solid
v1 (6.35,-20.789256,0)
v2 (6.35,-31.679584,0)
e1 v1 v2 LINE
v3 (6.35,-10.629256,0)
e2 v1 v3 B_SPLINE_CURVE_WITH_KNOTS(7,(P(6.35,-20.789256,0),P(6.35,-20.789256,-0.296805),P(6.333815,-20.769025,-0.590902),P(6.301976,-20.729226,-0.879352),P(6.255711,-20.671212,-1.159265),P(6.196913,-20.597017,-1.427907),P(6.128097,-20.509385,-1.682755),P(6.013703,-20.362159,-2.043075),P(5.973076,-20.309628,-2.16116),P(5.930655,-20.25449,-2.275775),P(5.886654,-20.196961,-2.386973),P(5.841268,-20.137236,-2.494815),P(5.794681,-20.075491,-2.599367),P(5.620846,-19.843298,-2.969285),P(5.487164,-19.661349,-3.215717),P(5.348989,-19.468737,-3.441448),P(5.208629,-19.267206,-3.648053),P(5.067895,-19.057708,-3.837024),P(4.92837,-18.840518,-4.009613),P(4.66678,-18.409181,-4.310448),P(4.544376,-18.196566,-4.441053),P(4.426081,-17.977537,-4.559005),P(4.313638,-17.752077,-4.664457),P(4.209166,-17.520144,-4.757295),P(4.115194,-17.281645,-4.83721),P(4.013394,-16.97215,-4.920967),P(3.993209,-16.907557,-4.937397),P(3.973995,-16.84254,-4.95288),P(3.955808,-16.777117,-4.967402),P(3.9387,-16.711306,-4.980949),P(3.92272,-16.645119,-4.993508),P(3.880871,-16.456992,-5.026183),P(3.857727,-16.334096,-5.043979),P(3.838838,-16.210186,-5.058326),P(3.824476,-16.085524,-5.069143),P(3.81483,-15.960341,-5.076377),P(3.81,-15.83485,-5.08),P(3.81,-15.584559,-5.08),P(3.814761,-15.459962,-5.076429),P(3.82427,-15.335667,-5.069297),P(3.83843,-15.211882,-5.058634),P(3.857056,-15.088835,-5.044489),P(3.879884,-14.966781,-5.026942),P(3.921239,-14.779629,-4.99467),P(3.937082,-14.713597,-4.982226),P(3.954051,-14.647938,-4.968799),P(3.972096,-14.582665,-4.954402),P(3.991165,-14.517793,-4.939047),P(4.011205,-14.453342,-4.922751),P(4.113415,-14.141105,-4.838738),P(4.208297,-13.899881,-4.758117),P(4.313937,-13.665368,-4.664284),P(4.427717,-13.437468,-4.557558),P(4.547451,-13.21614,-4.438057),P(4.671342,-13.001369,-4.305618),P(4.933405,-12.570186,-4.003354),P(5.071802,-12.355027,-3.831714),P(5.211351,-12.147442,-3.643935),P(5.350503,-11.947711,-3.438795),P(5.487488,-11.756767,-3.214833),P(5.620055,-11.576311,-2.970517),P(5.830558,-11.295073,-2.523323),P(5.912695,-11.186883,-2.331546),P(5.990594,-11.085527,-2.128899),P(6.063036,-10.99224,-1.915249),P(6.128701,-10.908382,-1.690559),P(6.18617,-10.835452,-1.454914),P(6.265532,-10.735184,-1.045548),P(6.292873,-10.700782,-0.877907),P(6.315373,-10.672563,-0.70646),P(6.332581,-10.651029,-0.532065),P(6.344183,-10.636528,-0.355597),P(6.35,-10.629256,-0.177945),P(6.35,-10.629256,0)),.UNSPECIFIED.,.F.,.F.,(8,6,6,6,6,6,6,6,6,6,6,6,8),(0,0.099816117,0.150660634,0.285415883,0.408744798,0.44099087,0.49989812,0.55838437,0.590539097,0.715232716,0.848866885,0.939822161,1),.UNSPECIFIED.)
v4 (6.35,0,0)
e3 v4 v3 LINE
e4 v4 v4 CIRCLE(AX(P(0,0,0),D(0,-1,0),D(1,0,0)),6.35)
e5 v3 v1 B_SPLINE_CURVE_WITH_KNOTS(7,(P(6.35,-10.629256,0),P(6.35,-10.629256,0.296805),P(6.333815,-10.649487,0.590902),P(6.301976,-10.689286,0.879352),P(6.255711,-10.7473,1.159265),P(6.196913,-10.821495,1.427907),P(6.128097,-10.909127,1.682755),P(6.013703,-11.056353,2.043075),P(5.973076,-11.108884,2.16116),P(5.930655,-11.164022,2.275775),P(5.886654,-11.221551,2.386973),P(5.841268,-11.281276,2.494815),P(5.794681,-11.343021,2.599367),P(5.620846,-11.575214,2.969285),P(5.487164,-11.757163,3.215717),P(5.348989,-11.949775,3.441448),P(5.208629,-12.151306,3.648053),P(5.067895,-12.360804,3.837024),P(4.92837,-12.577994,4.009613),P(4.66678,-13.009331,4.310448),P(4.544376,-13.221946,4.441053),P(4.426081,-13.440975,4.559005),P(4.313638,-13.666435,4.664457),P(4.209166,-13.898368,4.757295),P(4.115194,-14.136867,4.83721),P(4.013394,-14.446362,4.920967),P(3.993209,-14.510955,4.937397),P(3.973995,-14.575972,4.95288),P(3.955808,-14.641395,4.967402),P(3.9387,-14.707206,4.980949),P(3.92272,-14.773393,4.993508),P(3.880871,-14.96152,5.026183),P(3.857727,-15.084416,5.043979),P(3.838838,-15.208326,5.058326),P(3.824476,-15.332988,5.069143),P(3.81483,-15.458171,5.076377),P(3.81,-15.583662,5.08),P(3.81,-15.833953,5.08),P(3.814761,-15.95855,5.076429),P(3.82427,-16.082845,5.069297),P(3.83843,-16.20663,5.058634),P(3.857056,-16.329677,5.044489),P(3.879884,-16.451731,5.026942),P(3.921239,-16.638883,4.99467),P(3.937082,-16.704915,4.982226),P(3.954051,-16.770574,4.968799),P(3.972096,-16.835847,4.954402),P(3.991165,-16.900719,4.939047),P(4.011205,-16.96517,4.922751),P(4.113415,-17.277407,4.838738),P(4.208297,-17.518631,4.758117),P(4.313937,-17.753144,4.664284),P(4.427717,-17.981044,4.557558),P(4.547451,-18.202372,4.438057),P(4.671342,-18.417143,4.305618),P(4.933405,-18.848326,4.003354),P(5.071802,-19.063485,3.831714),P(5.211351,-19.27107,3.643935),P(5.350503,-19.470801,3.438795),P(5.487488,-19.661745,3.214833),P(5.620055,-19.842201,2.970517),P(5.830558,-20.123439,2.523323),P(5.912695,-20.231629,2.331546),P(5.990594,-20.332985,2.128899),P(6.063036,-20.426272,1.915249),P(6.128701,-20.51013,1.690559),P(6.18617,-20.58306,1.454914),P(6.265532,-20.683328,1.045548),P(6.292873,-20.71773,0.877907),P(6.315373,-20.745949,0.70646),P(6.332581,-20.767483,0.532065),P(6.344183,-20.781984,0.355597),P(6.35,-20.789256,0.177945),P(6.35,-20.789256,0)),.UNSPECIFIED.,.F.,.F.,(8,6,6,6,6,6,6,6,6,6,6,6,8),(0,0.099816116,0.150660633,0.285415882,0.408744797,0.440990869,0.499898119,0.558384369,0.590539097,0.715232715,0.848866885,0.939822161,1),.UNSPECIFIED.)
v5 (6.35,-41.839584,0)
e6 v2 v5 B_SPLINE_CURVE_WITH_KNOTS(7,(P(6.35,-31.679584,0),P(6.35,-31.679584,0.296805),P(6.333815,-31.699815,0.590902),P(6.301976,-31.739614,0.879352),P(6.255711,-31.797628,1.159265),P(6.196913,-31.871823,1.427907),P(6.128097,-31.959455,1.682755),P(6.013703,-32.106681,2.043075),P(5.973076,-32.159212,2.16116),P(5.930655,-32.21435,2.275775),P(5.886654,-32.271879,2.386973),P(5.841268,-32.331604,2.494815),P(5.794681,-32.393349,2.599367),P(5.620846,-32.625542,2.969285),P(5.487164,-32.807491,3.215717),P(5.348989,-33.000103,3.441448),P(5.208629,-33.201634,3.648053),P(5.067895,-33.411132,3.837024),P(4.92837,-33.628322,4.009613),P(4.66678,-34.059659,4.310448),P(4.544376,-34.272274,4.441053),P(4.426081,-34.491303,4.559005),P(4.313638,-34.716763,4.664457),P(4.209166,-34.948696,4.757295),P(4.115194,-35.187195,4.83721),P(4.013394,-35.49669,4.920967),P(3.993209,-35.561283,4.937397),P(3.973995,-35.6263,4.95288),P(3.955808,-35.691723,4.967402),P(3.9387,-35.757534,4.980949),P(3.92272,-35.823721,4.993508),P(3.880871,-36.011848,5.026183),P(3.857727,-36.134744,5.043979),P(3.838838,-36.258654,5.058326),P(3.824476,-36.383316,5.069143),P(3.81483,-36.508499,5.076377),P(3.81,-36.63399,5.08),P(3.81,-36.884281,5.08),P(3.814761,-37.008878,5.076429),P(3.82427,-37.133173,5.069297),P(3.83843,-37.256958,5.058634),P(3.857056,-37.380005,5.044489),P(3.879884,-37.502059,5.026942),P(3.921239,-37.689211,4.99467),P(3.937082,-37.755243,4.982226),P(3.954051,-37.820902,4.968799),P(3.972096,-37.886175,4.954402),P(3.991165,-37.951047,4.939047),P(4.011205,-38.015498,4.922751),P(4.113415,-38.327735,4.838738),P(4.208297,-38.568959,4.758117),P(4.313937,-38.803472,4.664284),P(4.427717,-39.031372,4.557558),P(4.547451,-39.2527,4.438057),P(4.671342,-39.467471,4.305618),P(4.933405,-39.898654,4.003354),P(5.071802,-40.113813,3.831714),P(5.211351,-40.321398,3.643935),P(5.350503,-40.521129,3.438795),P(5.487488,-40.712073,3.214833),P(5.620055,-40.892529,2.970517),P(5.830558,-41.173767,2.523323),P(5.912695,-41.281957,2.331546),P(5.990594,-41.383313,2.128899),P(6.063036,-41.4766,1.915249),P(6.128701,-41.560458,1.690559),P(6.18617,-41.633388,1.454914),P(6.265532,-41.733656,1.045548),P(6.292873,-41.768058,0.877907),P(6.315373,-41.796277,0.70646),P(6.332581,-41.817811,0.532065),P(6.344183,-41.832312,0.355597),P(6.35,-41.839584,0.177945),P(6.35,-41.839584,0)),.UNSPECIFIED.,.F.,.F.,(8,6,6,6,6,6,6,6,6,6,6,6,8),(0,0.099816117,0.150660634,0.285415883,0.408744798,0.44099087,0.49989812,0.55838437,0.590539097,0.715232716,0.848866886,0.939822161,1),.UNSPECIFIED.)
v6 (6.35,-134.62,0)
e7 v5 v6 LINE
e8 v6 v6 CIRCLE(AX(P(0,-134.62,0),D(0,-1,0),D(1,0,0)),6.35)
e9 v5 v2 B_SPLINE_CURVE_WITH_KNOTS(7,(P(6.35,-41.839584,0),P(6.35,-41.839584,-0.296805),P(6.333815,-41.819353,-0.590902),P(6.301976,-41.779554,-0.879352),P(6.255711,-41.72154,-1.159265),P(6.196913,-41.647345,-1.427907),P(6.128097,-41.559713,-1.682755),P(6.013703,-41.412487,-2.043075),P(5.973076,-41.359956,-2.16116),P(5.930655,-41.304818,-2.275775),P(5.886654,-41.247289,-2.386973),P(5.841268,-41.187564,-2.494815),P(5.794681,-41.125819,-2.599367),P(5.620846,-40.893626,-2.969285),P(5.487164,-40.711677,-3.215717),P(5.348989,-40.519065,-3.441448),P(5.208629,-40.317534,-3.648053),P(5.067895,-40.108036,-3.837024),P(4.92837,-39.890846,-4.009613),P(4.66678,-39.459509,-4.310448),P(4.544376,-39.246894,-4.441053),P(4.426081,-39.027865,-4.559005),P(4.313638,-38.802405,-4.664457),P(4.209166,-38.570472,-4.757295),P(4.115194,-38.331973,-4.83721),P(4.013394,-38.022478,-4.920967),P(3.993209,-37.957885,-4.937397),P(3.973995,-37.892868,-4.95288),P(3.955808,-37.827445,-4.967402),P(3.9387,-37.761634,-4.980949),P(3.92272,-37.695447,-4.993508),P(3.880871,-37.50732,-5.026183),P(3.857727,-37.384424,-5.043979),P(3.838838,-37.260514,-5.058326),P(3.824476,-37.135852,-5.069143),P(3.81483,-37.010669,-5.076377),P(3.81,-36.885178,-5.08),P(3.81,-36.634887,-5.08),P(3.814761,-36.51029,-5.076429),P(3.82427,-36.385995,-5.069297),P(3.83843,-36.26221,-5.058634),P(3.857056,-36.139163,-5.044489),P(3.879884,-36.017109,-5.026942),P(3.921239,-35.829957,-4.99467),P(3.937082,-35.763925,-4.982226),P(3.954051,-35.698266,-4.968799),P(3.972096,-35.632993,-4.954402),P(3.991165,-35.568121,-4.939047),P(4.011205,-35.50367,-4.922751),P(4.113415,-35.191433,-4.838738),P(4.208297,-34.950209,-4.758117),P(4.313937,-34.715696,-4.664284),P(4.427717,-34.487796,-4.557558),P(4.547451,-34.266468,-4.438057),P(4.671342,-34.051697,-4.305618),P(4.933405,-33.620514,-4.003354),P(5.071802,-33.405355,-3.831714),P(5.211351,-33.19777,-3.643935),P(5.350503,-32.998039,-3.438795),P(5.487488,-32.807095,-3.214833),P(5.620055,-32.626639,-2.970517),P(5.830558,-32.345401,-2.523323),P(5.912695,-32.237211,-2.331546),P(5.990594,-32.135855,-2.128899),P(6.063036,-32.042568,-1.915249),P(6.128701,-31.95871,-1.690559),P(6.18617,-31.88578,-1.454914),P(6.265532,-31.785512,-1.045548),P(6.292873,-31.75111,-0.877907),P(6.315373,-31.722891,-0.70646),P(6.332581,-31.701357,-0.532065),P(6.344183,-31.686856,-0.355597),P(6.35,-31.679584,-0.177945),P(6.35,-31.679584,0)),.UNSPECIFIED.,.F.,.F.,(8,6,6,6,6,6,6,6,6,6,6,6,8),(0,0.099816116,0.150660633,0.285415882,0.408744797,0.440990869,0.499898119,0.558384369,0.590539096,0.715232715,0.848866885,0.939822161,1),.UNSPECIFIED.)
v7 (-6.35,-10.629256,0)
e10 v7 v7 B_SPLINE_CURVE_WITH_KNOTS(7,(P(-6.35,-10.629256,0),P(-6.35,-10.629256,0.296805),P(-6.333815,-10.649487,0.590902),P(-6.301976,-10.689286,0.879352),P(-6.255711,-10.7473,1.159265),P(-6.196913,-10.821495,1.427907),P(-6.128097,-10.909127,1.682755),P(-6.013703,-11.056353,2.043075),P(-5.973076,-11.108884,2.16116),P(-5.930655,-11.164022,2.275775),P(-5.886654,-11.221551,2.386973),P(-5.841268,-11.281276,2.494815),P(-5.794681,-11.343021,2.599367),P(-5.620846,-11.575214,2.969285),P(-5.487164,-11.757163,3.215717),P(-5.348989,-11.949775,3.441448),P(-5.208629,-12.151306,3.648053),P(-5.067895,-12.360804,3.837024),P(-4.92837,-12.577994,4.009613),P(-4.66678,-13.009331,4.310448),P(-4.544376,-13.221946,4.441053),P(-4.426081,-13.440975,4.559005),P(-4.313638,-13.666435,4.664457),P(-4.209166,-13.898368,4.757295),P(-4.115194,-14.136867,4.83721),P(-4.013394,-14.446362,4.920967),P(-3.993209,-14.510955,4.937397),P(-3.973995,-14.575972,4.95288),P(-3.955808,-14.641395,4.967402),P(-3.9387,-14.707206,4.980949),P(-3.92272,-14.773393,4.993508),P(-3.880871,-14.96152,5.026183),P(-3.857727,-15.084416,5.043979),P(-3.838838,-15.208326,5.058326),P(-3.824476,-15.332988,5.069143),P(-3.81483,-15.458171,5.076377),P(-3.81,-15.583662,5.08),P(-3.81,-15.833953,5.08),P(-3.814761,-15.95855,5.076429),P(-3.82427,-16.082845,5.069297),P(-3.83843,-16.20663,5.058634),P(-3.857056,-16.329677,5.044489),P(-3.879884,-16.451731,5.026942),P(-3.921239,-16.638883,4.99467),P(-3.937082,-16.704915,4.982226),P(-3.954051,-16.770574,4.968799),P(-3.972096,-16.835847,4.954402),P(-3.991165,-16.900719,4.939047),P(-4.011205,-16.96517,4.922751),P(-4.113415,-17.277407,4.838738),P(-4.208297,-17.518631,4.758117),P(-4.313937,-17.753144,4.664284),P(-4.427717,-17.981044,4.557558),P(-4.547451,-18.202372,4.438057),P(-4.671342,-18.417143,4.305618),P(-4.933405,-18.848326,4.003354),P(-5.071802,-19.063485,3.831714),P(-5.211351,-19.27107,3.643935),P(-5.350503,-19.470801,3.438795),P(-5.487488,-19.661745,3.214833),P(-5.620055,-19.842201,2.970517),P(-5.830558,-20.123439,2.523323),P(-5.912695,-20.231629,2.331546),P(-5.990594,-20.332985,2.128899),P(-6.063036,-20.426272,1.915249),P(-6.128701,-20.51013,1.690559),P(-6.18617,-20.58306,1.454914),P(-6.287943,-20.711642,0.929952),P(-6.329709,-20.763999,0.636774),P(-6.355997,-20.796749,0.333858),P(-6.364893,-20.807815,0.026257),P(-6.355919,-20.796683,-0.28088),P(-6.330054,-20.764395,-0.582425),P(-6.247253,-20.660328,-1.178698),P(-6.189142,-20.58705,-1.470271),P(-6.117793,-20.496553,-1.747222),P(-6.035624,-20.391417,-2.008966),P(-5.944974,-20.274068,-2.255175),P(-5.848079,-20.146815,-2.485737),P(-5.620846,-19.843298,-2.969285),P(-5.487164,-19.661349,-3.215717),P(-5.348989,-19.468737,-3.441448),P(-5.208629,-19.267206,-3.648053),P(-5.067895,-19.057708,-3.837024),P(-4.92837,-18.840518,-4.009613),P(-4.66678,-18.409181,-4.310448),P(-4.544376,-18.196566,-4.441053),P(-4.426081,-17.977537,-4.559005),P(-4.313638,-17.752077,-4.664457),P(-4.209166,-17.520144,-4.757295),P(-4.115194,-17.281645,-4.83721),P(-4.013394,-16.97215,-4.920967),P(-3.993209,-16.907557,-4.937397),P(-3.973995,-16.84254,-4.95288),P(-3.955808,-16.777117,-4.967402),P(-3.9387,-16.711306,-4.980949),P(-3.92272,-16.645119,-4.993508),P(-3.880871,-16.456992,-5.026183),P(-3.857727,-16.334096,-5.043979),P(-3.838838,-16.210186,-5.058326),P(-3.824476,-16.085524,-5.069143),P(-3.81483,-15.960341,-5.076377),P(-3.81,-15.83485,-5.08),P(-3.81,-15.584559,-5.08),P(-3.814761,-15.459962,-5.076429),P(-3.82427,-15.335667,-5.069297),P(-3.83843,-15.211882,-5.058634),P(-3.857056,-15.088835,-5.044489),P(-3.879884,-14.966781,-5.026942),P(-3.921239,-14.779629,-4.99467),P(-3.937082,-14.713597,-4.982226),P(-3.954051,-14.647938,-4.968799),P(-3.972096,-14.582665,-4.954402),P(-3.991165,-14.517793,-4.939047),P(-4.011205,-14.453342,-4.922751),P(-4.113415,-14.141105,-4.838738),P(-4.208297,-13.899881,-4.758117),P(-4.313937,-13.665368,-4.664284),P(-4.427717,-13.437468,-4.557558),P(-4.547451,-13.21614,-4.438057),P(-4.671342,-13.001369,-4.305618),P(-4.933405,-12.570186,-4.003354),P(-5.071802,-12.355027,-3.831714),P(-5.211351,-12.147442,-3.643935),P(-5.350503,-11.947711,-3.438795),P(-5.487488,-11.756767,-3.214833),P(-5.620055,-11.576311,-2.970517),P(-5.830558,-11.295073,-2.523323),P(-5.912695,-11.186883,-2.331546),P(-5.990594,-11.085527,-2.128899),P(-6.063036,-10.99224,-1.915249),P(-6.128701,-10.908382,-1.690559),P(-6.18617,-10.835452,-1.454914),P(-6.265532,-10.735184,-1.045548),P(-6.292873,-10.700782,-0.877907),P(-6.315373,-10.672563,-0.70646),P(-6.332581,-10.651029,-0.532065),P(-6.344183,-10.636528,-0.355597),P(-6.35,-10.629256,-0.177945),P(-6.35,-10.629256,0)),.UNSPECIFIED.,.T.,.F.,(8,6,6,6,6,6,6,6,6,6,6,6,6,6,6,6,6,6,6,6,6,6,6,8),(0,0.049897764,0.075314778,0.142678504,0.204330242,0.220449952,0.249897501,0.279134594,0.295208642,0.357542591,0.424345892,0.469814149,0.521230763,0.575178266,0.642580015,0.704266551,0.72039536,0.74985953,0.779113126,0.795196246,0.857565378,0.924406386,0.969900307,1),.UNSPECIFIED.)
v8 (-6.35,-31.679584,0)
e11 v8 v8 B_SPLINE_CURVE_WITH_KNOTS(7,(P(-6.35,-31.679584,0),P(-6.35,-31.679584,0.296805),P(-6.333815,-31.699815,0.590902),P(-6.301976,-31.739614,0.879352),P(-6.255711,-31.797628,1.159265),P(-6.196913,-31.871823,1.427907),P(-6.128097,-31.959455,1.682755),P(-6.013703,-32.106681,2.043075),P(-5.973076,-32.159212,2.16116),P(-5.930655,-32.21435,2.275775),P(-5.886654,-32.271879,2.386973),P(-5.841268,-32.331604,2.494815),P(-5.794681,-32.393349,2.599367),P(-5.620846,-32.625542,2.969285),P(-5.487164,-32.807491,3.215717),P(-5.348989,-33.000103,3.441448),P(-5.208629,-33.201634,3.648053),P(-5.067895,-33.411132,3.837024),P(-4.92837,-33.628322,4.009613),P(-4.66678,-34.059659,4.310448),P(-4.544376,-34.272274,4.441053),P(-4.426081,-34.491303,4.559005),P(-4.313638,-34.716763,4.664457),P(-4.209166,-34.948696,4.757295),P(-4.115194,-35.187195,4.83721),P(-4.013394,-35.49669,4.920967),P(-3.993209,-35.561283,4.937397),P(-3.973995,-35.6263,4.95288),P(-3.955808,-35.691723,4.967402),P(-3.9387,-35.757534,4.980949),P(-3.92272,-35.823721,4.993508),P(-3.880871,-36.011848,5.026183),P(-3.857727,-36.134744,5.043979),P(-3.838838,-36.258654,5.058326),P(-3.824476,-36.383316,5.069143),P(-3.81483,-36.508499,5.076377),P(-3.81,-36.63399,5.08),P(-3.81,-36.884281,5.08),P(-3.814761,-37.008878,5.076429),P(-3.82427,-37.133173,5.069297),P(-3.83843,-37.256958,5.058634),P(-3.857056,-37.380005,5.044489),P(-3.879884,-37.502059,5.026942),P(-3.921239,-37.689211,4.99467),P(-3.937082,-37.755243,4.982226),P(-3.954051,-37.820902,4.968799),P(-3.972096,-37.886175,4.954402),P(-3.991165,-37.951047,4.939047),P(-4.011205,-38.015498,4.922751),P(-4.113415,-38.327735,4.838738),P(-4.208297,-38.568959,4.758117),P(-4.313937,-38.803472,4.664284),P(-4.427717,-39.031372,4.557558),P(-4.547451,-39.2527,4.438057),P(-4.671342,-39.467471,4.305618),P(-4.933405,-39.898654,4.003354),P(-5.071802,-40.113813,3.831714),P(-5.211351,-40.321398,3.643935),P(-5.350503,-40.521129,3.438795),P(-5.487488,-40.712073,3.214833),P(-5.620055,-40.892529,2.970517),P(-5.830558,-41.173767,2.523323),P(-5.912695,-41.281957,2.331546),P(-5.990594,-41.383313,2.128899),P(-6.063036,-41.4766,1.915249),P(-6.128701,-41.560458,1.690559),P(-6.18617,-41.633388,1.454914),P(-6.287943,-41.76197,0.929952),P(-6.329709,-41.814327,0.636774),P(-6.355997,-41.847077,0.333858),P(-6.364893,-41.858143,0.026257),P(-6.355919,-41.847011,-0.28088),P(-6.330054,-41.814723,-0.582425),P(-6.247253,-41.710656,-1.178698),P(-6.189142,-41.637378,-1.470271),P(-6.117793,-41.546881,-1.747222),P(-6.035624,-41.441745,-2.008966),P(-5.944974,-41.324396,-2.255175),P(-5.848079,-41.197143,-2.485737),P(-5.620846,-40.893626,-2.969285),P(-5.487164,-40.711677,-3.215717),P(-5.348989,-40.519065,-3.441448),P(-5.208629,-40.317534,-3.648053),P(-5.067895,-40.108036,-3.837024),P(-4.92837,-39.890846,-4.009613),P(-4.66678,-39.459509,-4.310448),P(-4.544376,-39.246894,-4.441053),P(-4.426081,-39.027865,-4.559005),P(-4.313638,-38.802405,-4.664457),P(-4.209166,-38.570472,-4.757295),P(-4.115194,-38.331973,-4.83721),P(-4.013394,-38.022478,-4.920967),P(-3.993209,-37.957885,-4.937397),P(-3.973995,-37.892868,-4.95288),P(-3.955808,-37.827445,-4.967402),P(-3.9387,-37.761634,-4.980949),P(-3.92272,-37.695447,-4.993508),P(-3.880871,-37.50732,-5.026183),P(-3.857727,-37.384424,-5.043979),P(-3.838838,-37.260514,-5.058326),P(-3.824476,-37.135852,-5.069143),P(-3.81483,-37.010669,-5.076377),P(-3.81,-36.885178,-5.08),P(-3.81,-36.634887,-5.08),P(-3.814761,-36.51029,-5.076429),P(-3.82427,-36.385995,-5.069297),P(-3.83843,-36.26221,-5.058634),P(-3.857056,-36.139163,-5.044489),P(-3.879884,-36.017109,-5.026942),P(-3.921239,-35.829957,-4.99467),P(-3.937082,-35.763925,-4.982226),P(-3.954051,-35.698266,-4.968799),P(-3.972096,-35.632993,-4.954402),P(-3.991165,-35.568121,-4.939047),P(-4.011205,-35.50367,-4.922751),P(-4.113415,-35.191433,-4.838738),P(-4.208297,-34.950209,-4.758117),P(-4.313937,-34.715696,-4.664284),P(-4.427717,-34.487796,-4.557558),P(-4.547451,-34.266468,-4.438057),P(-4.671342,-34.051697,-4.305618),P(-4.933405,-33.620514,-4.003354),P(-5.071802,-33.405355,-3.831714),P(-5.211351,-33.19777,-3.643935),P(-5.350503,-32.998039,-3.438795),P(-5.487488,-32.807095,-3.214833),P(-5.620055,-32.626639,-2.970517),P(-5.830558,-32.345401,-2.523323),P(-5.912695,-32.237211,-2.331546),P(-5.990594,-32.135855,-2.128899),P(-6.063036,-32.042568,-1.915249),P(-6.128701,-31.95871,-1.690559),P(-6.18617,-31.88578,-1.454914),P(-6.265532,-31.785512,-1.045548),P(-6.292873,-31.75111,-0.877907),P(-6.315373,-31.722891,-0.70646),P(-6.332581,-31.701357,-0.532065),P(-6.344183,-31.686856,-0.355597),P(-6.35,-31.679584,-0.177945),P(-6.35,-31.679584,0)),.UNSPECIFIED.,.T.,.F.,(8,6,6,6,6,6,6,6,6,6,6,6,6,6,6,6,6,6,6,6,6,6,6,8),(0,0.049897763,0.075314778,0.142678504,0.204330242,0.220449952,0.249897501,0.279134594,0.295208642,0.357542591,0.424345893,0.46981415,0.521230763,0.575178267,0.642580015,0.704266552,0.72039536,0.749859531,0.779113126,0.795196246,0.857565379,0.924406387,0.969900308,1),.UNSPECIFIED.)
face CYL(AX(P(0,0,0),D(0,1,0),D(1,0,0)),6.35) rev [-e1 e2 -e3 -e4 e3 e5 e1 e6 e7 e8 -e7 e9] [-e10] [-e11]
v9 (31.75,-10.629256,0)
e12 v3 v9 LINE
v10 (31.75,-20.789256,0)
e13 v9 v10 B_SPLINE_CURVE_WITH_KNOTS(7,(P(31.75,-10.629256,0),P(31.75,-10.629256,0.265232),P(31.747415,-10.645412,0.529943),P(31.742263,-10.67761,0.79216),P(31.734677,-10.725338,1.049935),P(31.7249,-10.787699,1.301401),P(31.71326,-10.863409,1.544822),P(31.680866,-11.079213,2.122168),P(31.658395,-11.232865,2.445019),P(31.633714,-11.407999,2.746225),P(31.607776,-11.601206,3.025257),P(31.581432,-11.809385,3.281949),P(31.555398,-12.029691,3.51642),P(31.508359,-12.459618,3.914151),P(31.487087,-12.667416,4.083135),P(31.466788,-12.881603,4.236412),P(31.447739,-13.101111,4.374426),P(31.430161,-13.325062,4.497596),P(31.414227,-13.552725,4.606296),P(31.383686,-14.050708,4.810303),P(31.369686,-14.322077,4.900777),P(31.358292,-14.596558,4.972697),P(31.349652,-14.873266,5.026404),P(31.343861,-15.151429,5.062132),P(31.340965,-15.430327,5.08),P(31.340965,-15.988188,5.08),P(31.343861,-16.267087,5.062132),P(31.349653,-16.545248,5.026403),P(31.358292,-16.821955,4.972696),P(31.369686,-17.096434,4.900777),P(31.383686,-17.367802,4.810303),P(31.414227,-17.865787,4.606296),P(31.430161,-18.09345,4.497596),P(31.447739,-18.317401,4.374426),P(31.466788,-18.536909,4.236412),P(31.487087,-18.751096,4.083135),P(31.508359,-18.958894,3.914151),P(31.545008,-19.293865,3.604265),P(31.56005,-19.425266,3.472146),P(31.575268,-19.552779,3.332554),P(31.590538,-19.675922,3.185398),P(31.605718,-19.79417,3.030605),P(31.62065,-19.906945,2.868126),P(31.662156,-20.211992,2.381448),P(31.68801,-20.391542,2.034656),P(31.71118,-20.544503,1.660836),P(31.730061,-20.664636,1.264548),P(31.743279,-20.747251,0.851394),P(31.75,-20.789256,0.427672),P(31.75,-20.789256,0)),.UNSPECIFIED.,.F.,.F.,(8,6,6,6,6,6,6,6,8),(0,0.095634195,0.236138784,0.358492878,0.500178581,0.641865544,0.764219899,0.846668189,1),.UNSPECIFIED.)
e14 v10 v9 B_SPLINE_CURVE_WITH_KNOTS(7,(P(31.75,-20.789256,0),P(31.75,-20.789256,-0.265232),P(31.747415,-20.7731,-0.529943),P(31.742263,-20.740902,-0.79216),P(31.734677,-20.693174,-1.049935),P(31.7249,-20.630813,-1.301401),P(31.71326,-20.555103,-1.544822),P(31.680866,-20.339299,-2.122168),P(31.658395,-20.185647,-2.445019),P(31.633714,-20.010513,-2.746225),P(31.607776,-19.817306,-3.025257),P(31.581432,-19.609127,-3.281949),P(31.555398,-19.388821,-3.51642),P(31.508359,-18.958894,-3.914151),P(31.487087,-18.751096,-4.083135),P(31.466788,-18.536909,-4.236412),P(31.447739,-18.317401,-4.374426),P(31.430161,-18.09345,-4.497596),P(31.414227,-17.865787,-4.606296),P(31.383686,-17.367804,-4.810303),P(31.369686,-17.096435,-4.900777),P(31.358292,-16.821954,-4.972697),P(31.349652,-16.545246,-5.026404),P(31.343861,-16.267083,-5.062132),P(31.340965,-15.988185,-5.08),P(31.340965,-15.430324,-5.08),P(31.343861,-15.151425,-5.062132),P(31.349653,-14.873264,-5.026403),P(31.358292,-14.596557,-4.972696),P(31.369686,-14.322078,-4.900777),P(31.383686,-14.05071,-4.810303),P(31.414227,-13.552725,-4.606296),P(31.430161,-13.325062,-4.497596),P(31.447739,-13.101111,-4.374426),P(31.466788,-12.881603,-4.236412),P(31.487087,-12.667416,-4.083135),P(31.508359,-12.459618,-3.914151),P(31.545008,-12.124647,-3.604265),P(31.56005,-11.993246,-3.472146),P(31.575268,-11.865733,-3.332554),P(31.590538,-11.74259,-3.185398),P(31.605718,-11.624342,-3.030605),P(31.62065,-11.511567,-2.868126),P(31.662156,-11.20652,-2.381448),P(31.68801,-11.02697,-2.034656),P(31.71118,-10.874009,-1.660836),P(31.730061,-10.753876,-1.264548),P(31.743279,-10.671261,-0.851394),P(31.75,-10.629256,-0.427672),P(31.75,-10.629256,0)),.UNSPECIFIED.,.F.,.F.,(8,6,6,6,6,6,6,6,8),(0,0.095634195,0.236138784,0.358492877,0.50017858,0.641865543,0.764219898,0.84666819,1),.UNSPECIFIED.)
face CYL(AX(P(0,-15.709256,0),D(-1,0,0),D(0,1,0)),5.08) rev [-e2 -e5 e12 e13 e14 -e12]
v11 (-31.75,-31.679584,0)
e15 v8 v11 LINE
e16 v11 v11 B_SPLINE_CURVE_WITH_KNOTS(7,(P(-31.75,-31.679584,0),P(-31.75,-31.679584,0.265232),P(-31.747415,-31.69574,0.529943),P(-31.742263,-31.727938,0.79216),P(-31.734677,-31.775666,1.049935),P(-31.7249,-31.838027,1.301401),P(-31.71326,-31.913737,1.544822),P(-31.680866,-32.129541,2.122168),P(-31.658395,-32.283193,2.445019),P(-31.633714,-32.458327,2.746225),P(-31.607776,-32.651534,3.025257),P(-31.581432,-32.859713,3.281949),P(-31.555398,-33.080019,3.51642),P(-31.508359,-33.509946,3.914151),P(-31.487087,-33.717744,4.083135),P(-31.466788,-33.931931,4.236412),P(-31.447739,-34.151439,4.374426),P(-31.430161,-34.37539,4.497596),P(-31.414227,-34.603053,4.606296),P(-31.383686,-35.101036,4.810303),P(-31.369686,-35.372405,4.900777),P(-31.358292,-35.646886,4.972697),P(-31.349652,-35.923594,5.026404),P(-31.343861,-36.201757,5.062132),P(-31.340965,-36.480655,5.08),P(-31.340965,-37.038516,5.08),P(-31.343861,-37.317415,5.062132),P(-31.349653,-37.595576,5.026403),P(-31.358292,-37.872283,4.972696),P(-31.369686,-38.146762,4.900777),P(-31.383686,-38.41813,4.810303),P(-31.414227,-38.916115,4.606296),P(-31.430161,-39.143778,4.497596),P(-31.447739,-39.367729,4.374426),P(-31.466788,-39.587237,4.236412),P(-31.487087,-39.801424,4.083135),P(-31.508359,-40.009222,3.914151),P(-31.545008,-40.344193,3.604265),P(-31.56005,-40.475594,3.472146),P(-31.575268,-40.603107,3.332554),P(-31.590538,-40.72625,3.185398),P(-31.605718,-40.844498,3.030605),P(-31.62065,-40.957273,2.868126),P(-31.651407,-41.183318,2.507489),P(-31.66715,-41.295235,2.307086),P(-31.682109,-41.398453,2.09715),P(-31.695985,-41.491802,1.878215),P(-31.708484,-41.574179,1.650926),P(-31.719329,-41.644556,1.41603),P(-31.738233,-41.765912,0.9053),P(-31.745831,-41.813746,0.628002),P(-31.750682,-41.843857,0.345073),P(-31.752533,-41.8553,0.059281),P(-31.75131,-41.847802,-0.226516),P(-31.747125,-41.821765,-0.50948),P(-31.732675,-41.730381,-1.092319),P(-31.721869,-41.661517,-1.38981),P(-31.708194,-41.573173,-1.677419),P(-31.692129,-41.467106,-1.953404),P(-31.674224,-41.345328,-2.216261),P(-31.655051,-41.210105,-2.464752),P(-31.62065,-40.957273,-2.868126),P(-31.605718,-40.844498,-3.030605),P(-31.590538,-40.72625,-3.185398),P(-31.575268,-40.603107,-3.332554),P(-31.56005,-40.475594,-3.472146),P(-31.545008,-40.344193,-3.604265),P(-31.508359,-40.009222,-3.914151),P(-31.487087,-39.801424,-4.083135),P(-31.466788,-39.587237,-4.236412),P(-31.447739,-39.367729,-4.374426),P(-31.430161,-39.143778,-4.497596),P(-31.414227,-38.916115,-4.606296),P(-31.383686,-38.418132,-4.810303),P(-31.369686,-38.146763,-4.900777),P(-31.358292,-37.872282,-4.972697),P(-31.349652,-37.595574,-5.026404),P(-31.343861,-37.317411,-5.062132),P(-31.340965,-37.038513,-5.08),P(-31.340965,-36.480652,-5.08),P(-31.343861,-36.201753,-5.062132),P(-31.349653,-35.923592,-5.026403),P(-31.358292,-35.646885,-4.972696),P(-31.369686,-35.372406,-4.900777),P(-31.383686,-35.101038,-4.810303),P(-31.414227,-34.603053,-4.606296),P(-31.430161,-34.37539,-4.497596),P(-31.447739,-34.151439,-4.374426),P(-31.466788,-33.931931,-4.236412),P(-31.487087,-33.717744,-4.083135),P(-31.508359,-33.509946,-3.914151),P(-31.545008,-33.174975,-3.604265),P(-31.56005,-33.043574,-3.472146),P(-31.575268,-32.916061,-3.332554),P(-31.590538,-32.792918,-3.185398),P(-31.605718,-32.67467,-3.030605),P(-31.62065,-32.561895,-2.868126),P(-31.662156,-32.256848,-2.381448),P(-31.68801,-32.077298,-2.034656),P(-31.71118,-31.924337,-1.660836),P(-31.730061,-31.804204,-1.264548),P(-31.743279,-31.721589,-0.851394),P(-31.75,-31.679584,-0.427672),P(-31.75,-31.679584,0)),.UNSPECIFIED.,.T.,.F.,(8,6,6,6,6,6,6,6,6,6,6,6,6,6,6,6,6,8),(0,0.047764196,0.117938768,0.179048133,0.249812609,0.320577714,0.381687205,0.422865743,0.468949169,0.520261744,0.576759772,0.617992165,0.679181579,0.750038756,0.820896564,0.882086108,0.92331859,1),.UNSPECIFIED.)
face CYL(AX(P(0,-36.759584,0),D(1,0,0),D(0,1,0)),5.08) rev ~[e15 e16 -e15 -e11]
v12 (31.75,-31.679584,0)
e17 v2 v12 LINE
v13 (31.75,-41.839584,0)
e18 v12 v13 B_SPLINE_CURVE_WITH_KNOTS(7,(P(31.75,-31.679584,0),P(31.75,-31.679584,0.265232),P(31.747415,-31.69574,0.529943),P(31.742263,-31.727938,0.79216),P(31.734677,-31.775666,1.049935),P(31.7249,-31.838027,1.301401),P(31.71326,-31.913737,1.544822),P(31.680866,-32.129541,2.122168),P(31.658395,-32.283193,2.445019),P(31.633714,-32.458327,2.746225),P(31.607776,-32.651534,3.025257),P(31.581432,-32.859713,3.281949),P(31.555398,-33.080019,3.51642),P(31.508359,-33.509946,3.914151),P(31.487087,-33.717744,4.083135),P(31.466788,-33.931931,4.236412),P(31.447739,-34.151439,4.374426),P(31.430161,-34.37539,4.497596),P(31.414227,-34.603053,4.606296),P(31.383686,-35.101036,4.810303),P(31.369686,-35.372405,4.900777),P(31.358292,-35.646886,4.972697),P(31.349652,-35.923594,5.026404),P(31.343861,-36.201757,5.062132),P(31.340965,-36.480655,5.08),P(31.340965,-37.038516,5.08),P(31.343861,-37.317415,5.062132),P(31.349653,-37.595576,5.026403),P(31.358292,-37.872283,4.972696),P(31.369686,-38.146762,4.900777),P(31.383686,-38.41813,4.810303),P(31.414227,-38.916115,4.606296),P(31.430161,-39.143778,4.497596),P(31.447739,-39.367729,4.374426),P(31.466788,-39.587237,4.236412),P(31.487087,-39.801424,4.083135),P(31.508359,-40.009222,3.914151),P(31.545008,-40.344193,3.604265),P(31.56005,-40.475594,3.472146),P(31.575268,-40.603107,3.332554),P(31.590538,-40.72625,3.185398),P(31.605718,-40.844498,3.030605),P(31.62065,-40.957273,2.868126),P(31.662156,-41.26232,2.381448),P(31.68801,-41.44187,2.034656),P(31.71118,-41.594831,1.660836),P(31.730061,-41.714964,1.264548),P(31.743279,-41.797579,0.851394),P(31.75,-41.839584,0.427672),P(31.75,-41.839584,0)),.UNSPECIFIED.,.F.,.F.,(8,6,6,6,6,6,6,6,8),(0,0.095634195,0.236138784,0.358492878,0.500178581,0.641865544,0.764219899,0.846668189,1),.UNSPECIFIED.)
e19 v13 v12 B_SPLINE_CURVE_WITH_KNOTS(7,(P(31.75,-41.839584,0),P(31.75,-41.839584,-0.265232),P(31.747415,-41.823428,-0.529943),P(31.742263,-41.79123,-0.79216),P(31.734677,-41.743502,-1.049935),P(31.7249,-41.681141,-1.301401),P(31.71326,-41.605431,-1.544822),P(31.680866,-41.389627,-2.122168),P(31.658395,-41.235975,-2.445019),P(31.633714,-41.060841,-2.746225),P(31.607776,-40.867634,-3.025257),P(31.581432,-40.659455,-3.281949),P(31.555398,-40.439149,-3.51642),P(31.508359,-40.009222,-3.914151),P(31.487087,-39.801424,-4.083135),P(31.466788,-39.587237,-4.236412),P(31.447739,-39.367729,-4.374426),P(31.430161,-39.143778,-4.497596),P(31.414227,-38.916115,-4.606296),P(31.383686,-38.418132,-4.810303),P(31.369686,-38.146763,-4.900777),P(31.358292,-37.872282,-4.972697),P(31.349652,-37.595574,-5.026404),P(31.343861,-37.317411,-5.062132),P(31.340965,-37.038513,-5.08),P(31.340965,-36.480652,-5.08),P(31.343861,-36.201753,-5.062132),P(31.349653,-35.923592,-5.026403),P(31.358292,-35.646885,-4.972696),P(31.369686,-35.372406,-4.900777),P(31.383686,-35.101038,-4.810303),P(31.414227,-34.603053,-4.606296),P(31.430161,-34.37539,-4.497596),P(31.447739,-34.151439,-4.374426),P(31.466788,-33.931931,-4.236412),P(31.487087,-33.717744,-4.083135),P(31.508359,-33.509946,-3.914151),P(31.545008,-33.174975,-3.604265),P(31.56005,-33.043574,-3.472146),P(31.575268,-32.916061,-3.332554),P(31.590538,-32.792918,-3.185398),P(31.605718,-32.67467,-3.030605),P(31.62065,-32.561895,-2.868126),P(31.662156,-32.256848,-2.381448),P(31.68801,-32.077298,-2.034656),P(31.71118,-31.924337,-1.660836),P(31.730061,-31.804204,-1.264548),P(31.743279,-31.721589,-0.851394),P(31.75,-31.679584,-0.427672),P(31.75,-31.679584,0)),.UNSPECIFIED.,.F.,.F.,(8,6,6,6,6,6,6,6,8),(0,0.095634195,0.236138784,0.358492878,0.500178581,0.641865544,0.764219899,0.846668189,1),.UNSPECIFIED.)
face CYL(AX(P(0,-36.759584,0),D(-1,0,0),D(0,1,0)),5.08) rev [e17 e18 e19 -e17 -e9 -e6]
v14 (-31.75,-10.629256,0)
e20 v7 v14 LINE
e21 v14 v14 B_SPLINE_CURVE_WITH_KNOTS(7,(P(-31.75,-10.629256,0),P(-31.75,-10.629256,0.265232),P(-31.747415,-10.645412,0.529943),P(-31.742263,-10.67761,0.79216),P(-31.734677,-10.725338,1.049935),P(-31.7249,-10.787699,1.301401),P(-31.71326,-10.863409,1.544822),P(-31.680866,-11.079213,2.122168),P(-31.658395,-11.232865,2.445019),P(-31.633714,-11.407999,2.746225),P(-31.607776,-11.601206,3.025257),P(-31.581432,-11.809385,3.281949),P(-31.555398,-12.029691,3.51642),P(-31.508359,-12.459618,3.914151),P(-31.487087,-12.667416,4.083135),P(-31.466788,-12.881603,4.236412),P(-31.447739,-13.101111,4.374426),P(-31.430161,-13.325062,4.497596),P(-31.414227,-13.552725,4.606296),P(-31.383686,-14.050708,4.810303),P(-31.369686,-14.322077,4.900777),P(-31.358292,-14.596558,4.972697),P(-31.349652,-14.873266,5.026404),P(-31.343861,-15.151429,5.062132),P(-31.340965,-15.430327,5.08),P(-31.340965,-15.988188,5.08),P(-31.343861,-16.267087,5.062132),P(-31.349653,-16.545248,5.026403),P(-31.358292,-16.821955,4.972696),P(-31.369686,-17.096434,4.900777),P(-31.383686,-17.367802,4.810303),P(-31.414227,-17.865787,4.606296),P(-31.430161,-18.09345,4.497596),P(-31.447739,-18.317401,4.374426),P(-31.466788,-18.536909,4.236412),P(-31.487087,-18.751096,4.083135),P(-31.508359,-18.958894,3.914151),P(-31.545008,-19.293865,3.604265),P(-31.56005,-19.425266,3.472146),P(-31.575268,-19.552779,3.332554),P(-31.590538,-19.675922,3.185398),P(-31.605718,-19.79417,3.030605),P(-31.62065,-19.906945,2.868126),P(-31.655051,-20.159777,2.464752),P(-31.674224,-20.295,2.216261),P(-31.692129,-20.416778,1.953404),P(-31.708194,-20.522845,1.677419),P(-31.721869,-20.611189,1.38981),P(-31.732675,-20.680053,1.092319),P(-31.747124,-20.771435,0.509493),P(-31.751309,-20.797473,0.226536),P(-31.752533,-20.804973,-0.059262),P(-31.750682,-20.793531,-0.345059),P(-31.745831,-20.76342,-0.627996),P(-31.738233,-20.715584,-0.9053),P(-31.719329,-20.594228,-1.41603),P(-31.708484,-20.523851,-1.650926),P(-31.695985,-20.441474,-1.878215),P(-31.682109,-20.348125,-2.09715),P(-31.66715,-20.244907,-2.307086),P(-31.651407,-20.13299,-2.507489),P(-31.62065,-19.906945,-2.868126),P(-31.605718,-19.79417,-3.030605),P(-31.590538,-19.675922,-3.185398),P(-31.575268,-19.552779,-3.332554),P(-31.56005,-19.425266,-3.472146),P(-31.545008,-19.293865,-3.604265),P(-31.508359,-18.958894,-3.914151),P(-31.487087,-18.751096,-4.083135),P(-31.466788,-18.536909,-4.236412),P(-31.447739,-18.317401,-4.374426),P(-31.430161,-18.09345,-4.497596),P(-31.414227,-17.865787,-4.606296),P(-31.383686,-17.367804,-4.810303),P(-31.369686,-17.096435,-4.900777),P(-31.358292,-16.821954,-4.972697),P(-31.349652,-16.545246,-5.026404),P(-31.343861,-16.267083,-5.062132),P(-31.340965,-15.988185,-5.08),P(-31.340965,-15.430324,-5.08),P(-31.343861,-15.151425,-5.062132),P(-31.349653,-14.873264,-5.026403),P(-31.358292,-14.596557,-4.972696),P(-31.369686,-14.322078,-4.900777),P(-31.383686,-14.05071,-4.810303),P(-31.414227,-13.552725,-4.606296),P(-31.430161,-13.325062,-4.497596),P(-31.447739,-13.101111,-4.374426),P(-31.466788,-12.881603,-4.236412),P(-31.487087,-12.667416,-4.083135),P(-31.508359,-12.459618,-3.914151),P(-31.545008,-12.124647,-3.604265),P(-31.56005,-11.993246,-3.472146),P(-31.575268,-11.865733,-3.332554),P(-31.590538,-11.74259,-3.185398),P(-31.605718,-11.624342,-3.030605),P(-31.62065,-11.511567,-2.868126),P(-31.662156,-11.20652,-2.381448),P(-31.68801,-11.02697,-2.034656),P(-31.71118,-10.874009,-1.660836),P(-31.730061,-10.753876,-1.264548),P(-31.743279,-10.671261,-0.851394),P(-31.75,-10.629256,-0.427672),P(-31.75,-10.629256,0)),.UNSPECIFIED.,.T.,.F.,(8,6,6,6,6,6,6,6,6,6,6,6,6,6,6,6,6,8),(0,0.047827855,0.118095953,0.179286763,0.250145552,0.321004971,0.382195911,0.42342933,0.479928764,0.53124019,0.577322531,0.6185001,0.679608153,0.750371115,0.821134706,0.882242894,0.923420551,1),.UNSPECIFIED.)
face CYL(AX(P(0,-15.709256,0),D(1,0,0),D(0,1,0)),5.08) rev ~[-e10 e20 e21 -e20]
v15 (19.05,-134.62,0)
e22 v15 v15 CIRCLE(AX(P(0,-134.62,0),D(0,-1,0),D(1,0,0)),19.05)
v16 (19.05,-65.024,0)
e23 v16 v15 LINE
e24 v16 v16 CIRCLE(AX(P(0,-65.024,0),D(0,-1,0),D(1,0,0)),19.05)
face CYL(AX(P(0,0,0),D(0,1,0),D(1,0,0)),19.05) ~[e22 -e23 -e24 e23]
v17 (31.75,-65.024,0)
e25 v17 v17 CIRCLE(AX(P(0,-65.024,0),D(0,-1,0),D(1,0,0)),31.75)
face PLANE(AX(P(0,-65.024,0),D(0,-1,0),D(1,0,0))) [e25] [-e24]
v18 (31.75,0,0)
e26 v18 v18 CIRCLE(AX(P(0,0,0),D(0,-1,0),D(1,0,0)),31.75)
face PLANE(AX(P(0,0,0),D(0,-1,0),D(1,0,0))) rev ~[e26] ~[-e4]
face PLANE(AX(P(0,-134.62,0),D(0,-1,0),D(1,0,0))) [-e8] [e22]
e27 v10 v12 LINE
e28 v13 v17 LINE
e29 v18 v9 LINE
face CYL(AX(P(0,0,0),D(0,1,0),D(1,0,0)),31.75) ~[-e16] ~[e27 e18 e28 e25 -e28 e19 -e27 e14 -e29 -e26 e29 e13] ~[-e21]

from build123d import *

# Parameters (mm, degrees)
F0_R     = 19.05
F0_R_2   = 6.35
F1_DEPTH = 134.62
F0_R_3   = 31.75
F2_DEPTH = 65.024
F3_R     = 5.08
F4_DEPTH = 114.3
F5_DEPTH = 89.662


with BuildPart() as f1:
    # F0 (on Front) → F1 (new body)
    with BuildSketch(Plane.XZ):
        Circle(F0_R)
        Circle(F0_R_2, mode=Mode.SUBTRACT)
    extrude(amount=F1_DEPTH)

    # F0 (on Front) → F2 (join)
    with BuildSketch(Plane.XZ):
        Circle(F0_R_3)
        Circle(F0_R, mode=Mode.SUBTRACT)
    extrude(amount=F2_DEPTH)

    # F3 (on Right) → F4 (cut)
    with BuildSketch(Plane.YZ):
        with Locations((-15.709256, 0)):
            Circle(F3_R)
        with Locations((-36.759584, 0)):
            Circle(F3_R)
    extrude(amount=-F4_DEPTH, mode=Mode.SUBTRACT)

    # F3 (on Right) → F5 (cut)
    with BuildSketch(Plane.YZ):
        with Locations((-15.709256, 0)):
            Circle(F3_R)
        with Locations((-36.759584, 0)):
            Circle(F3_R)
    extrude(amount=F5_DEPTH, mode=Mode.SUBTRACT)


solid = f1.part
